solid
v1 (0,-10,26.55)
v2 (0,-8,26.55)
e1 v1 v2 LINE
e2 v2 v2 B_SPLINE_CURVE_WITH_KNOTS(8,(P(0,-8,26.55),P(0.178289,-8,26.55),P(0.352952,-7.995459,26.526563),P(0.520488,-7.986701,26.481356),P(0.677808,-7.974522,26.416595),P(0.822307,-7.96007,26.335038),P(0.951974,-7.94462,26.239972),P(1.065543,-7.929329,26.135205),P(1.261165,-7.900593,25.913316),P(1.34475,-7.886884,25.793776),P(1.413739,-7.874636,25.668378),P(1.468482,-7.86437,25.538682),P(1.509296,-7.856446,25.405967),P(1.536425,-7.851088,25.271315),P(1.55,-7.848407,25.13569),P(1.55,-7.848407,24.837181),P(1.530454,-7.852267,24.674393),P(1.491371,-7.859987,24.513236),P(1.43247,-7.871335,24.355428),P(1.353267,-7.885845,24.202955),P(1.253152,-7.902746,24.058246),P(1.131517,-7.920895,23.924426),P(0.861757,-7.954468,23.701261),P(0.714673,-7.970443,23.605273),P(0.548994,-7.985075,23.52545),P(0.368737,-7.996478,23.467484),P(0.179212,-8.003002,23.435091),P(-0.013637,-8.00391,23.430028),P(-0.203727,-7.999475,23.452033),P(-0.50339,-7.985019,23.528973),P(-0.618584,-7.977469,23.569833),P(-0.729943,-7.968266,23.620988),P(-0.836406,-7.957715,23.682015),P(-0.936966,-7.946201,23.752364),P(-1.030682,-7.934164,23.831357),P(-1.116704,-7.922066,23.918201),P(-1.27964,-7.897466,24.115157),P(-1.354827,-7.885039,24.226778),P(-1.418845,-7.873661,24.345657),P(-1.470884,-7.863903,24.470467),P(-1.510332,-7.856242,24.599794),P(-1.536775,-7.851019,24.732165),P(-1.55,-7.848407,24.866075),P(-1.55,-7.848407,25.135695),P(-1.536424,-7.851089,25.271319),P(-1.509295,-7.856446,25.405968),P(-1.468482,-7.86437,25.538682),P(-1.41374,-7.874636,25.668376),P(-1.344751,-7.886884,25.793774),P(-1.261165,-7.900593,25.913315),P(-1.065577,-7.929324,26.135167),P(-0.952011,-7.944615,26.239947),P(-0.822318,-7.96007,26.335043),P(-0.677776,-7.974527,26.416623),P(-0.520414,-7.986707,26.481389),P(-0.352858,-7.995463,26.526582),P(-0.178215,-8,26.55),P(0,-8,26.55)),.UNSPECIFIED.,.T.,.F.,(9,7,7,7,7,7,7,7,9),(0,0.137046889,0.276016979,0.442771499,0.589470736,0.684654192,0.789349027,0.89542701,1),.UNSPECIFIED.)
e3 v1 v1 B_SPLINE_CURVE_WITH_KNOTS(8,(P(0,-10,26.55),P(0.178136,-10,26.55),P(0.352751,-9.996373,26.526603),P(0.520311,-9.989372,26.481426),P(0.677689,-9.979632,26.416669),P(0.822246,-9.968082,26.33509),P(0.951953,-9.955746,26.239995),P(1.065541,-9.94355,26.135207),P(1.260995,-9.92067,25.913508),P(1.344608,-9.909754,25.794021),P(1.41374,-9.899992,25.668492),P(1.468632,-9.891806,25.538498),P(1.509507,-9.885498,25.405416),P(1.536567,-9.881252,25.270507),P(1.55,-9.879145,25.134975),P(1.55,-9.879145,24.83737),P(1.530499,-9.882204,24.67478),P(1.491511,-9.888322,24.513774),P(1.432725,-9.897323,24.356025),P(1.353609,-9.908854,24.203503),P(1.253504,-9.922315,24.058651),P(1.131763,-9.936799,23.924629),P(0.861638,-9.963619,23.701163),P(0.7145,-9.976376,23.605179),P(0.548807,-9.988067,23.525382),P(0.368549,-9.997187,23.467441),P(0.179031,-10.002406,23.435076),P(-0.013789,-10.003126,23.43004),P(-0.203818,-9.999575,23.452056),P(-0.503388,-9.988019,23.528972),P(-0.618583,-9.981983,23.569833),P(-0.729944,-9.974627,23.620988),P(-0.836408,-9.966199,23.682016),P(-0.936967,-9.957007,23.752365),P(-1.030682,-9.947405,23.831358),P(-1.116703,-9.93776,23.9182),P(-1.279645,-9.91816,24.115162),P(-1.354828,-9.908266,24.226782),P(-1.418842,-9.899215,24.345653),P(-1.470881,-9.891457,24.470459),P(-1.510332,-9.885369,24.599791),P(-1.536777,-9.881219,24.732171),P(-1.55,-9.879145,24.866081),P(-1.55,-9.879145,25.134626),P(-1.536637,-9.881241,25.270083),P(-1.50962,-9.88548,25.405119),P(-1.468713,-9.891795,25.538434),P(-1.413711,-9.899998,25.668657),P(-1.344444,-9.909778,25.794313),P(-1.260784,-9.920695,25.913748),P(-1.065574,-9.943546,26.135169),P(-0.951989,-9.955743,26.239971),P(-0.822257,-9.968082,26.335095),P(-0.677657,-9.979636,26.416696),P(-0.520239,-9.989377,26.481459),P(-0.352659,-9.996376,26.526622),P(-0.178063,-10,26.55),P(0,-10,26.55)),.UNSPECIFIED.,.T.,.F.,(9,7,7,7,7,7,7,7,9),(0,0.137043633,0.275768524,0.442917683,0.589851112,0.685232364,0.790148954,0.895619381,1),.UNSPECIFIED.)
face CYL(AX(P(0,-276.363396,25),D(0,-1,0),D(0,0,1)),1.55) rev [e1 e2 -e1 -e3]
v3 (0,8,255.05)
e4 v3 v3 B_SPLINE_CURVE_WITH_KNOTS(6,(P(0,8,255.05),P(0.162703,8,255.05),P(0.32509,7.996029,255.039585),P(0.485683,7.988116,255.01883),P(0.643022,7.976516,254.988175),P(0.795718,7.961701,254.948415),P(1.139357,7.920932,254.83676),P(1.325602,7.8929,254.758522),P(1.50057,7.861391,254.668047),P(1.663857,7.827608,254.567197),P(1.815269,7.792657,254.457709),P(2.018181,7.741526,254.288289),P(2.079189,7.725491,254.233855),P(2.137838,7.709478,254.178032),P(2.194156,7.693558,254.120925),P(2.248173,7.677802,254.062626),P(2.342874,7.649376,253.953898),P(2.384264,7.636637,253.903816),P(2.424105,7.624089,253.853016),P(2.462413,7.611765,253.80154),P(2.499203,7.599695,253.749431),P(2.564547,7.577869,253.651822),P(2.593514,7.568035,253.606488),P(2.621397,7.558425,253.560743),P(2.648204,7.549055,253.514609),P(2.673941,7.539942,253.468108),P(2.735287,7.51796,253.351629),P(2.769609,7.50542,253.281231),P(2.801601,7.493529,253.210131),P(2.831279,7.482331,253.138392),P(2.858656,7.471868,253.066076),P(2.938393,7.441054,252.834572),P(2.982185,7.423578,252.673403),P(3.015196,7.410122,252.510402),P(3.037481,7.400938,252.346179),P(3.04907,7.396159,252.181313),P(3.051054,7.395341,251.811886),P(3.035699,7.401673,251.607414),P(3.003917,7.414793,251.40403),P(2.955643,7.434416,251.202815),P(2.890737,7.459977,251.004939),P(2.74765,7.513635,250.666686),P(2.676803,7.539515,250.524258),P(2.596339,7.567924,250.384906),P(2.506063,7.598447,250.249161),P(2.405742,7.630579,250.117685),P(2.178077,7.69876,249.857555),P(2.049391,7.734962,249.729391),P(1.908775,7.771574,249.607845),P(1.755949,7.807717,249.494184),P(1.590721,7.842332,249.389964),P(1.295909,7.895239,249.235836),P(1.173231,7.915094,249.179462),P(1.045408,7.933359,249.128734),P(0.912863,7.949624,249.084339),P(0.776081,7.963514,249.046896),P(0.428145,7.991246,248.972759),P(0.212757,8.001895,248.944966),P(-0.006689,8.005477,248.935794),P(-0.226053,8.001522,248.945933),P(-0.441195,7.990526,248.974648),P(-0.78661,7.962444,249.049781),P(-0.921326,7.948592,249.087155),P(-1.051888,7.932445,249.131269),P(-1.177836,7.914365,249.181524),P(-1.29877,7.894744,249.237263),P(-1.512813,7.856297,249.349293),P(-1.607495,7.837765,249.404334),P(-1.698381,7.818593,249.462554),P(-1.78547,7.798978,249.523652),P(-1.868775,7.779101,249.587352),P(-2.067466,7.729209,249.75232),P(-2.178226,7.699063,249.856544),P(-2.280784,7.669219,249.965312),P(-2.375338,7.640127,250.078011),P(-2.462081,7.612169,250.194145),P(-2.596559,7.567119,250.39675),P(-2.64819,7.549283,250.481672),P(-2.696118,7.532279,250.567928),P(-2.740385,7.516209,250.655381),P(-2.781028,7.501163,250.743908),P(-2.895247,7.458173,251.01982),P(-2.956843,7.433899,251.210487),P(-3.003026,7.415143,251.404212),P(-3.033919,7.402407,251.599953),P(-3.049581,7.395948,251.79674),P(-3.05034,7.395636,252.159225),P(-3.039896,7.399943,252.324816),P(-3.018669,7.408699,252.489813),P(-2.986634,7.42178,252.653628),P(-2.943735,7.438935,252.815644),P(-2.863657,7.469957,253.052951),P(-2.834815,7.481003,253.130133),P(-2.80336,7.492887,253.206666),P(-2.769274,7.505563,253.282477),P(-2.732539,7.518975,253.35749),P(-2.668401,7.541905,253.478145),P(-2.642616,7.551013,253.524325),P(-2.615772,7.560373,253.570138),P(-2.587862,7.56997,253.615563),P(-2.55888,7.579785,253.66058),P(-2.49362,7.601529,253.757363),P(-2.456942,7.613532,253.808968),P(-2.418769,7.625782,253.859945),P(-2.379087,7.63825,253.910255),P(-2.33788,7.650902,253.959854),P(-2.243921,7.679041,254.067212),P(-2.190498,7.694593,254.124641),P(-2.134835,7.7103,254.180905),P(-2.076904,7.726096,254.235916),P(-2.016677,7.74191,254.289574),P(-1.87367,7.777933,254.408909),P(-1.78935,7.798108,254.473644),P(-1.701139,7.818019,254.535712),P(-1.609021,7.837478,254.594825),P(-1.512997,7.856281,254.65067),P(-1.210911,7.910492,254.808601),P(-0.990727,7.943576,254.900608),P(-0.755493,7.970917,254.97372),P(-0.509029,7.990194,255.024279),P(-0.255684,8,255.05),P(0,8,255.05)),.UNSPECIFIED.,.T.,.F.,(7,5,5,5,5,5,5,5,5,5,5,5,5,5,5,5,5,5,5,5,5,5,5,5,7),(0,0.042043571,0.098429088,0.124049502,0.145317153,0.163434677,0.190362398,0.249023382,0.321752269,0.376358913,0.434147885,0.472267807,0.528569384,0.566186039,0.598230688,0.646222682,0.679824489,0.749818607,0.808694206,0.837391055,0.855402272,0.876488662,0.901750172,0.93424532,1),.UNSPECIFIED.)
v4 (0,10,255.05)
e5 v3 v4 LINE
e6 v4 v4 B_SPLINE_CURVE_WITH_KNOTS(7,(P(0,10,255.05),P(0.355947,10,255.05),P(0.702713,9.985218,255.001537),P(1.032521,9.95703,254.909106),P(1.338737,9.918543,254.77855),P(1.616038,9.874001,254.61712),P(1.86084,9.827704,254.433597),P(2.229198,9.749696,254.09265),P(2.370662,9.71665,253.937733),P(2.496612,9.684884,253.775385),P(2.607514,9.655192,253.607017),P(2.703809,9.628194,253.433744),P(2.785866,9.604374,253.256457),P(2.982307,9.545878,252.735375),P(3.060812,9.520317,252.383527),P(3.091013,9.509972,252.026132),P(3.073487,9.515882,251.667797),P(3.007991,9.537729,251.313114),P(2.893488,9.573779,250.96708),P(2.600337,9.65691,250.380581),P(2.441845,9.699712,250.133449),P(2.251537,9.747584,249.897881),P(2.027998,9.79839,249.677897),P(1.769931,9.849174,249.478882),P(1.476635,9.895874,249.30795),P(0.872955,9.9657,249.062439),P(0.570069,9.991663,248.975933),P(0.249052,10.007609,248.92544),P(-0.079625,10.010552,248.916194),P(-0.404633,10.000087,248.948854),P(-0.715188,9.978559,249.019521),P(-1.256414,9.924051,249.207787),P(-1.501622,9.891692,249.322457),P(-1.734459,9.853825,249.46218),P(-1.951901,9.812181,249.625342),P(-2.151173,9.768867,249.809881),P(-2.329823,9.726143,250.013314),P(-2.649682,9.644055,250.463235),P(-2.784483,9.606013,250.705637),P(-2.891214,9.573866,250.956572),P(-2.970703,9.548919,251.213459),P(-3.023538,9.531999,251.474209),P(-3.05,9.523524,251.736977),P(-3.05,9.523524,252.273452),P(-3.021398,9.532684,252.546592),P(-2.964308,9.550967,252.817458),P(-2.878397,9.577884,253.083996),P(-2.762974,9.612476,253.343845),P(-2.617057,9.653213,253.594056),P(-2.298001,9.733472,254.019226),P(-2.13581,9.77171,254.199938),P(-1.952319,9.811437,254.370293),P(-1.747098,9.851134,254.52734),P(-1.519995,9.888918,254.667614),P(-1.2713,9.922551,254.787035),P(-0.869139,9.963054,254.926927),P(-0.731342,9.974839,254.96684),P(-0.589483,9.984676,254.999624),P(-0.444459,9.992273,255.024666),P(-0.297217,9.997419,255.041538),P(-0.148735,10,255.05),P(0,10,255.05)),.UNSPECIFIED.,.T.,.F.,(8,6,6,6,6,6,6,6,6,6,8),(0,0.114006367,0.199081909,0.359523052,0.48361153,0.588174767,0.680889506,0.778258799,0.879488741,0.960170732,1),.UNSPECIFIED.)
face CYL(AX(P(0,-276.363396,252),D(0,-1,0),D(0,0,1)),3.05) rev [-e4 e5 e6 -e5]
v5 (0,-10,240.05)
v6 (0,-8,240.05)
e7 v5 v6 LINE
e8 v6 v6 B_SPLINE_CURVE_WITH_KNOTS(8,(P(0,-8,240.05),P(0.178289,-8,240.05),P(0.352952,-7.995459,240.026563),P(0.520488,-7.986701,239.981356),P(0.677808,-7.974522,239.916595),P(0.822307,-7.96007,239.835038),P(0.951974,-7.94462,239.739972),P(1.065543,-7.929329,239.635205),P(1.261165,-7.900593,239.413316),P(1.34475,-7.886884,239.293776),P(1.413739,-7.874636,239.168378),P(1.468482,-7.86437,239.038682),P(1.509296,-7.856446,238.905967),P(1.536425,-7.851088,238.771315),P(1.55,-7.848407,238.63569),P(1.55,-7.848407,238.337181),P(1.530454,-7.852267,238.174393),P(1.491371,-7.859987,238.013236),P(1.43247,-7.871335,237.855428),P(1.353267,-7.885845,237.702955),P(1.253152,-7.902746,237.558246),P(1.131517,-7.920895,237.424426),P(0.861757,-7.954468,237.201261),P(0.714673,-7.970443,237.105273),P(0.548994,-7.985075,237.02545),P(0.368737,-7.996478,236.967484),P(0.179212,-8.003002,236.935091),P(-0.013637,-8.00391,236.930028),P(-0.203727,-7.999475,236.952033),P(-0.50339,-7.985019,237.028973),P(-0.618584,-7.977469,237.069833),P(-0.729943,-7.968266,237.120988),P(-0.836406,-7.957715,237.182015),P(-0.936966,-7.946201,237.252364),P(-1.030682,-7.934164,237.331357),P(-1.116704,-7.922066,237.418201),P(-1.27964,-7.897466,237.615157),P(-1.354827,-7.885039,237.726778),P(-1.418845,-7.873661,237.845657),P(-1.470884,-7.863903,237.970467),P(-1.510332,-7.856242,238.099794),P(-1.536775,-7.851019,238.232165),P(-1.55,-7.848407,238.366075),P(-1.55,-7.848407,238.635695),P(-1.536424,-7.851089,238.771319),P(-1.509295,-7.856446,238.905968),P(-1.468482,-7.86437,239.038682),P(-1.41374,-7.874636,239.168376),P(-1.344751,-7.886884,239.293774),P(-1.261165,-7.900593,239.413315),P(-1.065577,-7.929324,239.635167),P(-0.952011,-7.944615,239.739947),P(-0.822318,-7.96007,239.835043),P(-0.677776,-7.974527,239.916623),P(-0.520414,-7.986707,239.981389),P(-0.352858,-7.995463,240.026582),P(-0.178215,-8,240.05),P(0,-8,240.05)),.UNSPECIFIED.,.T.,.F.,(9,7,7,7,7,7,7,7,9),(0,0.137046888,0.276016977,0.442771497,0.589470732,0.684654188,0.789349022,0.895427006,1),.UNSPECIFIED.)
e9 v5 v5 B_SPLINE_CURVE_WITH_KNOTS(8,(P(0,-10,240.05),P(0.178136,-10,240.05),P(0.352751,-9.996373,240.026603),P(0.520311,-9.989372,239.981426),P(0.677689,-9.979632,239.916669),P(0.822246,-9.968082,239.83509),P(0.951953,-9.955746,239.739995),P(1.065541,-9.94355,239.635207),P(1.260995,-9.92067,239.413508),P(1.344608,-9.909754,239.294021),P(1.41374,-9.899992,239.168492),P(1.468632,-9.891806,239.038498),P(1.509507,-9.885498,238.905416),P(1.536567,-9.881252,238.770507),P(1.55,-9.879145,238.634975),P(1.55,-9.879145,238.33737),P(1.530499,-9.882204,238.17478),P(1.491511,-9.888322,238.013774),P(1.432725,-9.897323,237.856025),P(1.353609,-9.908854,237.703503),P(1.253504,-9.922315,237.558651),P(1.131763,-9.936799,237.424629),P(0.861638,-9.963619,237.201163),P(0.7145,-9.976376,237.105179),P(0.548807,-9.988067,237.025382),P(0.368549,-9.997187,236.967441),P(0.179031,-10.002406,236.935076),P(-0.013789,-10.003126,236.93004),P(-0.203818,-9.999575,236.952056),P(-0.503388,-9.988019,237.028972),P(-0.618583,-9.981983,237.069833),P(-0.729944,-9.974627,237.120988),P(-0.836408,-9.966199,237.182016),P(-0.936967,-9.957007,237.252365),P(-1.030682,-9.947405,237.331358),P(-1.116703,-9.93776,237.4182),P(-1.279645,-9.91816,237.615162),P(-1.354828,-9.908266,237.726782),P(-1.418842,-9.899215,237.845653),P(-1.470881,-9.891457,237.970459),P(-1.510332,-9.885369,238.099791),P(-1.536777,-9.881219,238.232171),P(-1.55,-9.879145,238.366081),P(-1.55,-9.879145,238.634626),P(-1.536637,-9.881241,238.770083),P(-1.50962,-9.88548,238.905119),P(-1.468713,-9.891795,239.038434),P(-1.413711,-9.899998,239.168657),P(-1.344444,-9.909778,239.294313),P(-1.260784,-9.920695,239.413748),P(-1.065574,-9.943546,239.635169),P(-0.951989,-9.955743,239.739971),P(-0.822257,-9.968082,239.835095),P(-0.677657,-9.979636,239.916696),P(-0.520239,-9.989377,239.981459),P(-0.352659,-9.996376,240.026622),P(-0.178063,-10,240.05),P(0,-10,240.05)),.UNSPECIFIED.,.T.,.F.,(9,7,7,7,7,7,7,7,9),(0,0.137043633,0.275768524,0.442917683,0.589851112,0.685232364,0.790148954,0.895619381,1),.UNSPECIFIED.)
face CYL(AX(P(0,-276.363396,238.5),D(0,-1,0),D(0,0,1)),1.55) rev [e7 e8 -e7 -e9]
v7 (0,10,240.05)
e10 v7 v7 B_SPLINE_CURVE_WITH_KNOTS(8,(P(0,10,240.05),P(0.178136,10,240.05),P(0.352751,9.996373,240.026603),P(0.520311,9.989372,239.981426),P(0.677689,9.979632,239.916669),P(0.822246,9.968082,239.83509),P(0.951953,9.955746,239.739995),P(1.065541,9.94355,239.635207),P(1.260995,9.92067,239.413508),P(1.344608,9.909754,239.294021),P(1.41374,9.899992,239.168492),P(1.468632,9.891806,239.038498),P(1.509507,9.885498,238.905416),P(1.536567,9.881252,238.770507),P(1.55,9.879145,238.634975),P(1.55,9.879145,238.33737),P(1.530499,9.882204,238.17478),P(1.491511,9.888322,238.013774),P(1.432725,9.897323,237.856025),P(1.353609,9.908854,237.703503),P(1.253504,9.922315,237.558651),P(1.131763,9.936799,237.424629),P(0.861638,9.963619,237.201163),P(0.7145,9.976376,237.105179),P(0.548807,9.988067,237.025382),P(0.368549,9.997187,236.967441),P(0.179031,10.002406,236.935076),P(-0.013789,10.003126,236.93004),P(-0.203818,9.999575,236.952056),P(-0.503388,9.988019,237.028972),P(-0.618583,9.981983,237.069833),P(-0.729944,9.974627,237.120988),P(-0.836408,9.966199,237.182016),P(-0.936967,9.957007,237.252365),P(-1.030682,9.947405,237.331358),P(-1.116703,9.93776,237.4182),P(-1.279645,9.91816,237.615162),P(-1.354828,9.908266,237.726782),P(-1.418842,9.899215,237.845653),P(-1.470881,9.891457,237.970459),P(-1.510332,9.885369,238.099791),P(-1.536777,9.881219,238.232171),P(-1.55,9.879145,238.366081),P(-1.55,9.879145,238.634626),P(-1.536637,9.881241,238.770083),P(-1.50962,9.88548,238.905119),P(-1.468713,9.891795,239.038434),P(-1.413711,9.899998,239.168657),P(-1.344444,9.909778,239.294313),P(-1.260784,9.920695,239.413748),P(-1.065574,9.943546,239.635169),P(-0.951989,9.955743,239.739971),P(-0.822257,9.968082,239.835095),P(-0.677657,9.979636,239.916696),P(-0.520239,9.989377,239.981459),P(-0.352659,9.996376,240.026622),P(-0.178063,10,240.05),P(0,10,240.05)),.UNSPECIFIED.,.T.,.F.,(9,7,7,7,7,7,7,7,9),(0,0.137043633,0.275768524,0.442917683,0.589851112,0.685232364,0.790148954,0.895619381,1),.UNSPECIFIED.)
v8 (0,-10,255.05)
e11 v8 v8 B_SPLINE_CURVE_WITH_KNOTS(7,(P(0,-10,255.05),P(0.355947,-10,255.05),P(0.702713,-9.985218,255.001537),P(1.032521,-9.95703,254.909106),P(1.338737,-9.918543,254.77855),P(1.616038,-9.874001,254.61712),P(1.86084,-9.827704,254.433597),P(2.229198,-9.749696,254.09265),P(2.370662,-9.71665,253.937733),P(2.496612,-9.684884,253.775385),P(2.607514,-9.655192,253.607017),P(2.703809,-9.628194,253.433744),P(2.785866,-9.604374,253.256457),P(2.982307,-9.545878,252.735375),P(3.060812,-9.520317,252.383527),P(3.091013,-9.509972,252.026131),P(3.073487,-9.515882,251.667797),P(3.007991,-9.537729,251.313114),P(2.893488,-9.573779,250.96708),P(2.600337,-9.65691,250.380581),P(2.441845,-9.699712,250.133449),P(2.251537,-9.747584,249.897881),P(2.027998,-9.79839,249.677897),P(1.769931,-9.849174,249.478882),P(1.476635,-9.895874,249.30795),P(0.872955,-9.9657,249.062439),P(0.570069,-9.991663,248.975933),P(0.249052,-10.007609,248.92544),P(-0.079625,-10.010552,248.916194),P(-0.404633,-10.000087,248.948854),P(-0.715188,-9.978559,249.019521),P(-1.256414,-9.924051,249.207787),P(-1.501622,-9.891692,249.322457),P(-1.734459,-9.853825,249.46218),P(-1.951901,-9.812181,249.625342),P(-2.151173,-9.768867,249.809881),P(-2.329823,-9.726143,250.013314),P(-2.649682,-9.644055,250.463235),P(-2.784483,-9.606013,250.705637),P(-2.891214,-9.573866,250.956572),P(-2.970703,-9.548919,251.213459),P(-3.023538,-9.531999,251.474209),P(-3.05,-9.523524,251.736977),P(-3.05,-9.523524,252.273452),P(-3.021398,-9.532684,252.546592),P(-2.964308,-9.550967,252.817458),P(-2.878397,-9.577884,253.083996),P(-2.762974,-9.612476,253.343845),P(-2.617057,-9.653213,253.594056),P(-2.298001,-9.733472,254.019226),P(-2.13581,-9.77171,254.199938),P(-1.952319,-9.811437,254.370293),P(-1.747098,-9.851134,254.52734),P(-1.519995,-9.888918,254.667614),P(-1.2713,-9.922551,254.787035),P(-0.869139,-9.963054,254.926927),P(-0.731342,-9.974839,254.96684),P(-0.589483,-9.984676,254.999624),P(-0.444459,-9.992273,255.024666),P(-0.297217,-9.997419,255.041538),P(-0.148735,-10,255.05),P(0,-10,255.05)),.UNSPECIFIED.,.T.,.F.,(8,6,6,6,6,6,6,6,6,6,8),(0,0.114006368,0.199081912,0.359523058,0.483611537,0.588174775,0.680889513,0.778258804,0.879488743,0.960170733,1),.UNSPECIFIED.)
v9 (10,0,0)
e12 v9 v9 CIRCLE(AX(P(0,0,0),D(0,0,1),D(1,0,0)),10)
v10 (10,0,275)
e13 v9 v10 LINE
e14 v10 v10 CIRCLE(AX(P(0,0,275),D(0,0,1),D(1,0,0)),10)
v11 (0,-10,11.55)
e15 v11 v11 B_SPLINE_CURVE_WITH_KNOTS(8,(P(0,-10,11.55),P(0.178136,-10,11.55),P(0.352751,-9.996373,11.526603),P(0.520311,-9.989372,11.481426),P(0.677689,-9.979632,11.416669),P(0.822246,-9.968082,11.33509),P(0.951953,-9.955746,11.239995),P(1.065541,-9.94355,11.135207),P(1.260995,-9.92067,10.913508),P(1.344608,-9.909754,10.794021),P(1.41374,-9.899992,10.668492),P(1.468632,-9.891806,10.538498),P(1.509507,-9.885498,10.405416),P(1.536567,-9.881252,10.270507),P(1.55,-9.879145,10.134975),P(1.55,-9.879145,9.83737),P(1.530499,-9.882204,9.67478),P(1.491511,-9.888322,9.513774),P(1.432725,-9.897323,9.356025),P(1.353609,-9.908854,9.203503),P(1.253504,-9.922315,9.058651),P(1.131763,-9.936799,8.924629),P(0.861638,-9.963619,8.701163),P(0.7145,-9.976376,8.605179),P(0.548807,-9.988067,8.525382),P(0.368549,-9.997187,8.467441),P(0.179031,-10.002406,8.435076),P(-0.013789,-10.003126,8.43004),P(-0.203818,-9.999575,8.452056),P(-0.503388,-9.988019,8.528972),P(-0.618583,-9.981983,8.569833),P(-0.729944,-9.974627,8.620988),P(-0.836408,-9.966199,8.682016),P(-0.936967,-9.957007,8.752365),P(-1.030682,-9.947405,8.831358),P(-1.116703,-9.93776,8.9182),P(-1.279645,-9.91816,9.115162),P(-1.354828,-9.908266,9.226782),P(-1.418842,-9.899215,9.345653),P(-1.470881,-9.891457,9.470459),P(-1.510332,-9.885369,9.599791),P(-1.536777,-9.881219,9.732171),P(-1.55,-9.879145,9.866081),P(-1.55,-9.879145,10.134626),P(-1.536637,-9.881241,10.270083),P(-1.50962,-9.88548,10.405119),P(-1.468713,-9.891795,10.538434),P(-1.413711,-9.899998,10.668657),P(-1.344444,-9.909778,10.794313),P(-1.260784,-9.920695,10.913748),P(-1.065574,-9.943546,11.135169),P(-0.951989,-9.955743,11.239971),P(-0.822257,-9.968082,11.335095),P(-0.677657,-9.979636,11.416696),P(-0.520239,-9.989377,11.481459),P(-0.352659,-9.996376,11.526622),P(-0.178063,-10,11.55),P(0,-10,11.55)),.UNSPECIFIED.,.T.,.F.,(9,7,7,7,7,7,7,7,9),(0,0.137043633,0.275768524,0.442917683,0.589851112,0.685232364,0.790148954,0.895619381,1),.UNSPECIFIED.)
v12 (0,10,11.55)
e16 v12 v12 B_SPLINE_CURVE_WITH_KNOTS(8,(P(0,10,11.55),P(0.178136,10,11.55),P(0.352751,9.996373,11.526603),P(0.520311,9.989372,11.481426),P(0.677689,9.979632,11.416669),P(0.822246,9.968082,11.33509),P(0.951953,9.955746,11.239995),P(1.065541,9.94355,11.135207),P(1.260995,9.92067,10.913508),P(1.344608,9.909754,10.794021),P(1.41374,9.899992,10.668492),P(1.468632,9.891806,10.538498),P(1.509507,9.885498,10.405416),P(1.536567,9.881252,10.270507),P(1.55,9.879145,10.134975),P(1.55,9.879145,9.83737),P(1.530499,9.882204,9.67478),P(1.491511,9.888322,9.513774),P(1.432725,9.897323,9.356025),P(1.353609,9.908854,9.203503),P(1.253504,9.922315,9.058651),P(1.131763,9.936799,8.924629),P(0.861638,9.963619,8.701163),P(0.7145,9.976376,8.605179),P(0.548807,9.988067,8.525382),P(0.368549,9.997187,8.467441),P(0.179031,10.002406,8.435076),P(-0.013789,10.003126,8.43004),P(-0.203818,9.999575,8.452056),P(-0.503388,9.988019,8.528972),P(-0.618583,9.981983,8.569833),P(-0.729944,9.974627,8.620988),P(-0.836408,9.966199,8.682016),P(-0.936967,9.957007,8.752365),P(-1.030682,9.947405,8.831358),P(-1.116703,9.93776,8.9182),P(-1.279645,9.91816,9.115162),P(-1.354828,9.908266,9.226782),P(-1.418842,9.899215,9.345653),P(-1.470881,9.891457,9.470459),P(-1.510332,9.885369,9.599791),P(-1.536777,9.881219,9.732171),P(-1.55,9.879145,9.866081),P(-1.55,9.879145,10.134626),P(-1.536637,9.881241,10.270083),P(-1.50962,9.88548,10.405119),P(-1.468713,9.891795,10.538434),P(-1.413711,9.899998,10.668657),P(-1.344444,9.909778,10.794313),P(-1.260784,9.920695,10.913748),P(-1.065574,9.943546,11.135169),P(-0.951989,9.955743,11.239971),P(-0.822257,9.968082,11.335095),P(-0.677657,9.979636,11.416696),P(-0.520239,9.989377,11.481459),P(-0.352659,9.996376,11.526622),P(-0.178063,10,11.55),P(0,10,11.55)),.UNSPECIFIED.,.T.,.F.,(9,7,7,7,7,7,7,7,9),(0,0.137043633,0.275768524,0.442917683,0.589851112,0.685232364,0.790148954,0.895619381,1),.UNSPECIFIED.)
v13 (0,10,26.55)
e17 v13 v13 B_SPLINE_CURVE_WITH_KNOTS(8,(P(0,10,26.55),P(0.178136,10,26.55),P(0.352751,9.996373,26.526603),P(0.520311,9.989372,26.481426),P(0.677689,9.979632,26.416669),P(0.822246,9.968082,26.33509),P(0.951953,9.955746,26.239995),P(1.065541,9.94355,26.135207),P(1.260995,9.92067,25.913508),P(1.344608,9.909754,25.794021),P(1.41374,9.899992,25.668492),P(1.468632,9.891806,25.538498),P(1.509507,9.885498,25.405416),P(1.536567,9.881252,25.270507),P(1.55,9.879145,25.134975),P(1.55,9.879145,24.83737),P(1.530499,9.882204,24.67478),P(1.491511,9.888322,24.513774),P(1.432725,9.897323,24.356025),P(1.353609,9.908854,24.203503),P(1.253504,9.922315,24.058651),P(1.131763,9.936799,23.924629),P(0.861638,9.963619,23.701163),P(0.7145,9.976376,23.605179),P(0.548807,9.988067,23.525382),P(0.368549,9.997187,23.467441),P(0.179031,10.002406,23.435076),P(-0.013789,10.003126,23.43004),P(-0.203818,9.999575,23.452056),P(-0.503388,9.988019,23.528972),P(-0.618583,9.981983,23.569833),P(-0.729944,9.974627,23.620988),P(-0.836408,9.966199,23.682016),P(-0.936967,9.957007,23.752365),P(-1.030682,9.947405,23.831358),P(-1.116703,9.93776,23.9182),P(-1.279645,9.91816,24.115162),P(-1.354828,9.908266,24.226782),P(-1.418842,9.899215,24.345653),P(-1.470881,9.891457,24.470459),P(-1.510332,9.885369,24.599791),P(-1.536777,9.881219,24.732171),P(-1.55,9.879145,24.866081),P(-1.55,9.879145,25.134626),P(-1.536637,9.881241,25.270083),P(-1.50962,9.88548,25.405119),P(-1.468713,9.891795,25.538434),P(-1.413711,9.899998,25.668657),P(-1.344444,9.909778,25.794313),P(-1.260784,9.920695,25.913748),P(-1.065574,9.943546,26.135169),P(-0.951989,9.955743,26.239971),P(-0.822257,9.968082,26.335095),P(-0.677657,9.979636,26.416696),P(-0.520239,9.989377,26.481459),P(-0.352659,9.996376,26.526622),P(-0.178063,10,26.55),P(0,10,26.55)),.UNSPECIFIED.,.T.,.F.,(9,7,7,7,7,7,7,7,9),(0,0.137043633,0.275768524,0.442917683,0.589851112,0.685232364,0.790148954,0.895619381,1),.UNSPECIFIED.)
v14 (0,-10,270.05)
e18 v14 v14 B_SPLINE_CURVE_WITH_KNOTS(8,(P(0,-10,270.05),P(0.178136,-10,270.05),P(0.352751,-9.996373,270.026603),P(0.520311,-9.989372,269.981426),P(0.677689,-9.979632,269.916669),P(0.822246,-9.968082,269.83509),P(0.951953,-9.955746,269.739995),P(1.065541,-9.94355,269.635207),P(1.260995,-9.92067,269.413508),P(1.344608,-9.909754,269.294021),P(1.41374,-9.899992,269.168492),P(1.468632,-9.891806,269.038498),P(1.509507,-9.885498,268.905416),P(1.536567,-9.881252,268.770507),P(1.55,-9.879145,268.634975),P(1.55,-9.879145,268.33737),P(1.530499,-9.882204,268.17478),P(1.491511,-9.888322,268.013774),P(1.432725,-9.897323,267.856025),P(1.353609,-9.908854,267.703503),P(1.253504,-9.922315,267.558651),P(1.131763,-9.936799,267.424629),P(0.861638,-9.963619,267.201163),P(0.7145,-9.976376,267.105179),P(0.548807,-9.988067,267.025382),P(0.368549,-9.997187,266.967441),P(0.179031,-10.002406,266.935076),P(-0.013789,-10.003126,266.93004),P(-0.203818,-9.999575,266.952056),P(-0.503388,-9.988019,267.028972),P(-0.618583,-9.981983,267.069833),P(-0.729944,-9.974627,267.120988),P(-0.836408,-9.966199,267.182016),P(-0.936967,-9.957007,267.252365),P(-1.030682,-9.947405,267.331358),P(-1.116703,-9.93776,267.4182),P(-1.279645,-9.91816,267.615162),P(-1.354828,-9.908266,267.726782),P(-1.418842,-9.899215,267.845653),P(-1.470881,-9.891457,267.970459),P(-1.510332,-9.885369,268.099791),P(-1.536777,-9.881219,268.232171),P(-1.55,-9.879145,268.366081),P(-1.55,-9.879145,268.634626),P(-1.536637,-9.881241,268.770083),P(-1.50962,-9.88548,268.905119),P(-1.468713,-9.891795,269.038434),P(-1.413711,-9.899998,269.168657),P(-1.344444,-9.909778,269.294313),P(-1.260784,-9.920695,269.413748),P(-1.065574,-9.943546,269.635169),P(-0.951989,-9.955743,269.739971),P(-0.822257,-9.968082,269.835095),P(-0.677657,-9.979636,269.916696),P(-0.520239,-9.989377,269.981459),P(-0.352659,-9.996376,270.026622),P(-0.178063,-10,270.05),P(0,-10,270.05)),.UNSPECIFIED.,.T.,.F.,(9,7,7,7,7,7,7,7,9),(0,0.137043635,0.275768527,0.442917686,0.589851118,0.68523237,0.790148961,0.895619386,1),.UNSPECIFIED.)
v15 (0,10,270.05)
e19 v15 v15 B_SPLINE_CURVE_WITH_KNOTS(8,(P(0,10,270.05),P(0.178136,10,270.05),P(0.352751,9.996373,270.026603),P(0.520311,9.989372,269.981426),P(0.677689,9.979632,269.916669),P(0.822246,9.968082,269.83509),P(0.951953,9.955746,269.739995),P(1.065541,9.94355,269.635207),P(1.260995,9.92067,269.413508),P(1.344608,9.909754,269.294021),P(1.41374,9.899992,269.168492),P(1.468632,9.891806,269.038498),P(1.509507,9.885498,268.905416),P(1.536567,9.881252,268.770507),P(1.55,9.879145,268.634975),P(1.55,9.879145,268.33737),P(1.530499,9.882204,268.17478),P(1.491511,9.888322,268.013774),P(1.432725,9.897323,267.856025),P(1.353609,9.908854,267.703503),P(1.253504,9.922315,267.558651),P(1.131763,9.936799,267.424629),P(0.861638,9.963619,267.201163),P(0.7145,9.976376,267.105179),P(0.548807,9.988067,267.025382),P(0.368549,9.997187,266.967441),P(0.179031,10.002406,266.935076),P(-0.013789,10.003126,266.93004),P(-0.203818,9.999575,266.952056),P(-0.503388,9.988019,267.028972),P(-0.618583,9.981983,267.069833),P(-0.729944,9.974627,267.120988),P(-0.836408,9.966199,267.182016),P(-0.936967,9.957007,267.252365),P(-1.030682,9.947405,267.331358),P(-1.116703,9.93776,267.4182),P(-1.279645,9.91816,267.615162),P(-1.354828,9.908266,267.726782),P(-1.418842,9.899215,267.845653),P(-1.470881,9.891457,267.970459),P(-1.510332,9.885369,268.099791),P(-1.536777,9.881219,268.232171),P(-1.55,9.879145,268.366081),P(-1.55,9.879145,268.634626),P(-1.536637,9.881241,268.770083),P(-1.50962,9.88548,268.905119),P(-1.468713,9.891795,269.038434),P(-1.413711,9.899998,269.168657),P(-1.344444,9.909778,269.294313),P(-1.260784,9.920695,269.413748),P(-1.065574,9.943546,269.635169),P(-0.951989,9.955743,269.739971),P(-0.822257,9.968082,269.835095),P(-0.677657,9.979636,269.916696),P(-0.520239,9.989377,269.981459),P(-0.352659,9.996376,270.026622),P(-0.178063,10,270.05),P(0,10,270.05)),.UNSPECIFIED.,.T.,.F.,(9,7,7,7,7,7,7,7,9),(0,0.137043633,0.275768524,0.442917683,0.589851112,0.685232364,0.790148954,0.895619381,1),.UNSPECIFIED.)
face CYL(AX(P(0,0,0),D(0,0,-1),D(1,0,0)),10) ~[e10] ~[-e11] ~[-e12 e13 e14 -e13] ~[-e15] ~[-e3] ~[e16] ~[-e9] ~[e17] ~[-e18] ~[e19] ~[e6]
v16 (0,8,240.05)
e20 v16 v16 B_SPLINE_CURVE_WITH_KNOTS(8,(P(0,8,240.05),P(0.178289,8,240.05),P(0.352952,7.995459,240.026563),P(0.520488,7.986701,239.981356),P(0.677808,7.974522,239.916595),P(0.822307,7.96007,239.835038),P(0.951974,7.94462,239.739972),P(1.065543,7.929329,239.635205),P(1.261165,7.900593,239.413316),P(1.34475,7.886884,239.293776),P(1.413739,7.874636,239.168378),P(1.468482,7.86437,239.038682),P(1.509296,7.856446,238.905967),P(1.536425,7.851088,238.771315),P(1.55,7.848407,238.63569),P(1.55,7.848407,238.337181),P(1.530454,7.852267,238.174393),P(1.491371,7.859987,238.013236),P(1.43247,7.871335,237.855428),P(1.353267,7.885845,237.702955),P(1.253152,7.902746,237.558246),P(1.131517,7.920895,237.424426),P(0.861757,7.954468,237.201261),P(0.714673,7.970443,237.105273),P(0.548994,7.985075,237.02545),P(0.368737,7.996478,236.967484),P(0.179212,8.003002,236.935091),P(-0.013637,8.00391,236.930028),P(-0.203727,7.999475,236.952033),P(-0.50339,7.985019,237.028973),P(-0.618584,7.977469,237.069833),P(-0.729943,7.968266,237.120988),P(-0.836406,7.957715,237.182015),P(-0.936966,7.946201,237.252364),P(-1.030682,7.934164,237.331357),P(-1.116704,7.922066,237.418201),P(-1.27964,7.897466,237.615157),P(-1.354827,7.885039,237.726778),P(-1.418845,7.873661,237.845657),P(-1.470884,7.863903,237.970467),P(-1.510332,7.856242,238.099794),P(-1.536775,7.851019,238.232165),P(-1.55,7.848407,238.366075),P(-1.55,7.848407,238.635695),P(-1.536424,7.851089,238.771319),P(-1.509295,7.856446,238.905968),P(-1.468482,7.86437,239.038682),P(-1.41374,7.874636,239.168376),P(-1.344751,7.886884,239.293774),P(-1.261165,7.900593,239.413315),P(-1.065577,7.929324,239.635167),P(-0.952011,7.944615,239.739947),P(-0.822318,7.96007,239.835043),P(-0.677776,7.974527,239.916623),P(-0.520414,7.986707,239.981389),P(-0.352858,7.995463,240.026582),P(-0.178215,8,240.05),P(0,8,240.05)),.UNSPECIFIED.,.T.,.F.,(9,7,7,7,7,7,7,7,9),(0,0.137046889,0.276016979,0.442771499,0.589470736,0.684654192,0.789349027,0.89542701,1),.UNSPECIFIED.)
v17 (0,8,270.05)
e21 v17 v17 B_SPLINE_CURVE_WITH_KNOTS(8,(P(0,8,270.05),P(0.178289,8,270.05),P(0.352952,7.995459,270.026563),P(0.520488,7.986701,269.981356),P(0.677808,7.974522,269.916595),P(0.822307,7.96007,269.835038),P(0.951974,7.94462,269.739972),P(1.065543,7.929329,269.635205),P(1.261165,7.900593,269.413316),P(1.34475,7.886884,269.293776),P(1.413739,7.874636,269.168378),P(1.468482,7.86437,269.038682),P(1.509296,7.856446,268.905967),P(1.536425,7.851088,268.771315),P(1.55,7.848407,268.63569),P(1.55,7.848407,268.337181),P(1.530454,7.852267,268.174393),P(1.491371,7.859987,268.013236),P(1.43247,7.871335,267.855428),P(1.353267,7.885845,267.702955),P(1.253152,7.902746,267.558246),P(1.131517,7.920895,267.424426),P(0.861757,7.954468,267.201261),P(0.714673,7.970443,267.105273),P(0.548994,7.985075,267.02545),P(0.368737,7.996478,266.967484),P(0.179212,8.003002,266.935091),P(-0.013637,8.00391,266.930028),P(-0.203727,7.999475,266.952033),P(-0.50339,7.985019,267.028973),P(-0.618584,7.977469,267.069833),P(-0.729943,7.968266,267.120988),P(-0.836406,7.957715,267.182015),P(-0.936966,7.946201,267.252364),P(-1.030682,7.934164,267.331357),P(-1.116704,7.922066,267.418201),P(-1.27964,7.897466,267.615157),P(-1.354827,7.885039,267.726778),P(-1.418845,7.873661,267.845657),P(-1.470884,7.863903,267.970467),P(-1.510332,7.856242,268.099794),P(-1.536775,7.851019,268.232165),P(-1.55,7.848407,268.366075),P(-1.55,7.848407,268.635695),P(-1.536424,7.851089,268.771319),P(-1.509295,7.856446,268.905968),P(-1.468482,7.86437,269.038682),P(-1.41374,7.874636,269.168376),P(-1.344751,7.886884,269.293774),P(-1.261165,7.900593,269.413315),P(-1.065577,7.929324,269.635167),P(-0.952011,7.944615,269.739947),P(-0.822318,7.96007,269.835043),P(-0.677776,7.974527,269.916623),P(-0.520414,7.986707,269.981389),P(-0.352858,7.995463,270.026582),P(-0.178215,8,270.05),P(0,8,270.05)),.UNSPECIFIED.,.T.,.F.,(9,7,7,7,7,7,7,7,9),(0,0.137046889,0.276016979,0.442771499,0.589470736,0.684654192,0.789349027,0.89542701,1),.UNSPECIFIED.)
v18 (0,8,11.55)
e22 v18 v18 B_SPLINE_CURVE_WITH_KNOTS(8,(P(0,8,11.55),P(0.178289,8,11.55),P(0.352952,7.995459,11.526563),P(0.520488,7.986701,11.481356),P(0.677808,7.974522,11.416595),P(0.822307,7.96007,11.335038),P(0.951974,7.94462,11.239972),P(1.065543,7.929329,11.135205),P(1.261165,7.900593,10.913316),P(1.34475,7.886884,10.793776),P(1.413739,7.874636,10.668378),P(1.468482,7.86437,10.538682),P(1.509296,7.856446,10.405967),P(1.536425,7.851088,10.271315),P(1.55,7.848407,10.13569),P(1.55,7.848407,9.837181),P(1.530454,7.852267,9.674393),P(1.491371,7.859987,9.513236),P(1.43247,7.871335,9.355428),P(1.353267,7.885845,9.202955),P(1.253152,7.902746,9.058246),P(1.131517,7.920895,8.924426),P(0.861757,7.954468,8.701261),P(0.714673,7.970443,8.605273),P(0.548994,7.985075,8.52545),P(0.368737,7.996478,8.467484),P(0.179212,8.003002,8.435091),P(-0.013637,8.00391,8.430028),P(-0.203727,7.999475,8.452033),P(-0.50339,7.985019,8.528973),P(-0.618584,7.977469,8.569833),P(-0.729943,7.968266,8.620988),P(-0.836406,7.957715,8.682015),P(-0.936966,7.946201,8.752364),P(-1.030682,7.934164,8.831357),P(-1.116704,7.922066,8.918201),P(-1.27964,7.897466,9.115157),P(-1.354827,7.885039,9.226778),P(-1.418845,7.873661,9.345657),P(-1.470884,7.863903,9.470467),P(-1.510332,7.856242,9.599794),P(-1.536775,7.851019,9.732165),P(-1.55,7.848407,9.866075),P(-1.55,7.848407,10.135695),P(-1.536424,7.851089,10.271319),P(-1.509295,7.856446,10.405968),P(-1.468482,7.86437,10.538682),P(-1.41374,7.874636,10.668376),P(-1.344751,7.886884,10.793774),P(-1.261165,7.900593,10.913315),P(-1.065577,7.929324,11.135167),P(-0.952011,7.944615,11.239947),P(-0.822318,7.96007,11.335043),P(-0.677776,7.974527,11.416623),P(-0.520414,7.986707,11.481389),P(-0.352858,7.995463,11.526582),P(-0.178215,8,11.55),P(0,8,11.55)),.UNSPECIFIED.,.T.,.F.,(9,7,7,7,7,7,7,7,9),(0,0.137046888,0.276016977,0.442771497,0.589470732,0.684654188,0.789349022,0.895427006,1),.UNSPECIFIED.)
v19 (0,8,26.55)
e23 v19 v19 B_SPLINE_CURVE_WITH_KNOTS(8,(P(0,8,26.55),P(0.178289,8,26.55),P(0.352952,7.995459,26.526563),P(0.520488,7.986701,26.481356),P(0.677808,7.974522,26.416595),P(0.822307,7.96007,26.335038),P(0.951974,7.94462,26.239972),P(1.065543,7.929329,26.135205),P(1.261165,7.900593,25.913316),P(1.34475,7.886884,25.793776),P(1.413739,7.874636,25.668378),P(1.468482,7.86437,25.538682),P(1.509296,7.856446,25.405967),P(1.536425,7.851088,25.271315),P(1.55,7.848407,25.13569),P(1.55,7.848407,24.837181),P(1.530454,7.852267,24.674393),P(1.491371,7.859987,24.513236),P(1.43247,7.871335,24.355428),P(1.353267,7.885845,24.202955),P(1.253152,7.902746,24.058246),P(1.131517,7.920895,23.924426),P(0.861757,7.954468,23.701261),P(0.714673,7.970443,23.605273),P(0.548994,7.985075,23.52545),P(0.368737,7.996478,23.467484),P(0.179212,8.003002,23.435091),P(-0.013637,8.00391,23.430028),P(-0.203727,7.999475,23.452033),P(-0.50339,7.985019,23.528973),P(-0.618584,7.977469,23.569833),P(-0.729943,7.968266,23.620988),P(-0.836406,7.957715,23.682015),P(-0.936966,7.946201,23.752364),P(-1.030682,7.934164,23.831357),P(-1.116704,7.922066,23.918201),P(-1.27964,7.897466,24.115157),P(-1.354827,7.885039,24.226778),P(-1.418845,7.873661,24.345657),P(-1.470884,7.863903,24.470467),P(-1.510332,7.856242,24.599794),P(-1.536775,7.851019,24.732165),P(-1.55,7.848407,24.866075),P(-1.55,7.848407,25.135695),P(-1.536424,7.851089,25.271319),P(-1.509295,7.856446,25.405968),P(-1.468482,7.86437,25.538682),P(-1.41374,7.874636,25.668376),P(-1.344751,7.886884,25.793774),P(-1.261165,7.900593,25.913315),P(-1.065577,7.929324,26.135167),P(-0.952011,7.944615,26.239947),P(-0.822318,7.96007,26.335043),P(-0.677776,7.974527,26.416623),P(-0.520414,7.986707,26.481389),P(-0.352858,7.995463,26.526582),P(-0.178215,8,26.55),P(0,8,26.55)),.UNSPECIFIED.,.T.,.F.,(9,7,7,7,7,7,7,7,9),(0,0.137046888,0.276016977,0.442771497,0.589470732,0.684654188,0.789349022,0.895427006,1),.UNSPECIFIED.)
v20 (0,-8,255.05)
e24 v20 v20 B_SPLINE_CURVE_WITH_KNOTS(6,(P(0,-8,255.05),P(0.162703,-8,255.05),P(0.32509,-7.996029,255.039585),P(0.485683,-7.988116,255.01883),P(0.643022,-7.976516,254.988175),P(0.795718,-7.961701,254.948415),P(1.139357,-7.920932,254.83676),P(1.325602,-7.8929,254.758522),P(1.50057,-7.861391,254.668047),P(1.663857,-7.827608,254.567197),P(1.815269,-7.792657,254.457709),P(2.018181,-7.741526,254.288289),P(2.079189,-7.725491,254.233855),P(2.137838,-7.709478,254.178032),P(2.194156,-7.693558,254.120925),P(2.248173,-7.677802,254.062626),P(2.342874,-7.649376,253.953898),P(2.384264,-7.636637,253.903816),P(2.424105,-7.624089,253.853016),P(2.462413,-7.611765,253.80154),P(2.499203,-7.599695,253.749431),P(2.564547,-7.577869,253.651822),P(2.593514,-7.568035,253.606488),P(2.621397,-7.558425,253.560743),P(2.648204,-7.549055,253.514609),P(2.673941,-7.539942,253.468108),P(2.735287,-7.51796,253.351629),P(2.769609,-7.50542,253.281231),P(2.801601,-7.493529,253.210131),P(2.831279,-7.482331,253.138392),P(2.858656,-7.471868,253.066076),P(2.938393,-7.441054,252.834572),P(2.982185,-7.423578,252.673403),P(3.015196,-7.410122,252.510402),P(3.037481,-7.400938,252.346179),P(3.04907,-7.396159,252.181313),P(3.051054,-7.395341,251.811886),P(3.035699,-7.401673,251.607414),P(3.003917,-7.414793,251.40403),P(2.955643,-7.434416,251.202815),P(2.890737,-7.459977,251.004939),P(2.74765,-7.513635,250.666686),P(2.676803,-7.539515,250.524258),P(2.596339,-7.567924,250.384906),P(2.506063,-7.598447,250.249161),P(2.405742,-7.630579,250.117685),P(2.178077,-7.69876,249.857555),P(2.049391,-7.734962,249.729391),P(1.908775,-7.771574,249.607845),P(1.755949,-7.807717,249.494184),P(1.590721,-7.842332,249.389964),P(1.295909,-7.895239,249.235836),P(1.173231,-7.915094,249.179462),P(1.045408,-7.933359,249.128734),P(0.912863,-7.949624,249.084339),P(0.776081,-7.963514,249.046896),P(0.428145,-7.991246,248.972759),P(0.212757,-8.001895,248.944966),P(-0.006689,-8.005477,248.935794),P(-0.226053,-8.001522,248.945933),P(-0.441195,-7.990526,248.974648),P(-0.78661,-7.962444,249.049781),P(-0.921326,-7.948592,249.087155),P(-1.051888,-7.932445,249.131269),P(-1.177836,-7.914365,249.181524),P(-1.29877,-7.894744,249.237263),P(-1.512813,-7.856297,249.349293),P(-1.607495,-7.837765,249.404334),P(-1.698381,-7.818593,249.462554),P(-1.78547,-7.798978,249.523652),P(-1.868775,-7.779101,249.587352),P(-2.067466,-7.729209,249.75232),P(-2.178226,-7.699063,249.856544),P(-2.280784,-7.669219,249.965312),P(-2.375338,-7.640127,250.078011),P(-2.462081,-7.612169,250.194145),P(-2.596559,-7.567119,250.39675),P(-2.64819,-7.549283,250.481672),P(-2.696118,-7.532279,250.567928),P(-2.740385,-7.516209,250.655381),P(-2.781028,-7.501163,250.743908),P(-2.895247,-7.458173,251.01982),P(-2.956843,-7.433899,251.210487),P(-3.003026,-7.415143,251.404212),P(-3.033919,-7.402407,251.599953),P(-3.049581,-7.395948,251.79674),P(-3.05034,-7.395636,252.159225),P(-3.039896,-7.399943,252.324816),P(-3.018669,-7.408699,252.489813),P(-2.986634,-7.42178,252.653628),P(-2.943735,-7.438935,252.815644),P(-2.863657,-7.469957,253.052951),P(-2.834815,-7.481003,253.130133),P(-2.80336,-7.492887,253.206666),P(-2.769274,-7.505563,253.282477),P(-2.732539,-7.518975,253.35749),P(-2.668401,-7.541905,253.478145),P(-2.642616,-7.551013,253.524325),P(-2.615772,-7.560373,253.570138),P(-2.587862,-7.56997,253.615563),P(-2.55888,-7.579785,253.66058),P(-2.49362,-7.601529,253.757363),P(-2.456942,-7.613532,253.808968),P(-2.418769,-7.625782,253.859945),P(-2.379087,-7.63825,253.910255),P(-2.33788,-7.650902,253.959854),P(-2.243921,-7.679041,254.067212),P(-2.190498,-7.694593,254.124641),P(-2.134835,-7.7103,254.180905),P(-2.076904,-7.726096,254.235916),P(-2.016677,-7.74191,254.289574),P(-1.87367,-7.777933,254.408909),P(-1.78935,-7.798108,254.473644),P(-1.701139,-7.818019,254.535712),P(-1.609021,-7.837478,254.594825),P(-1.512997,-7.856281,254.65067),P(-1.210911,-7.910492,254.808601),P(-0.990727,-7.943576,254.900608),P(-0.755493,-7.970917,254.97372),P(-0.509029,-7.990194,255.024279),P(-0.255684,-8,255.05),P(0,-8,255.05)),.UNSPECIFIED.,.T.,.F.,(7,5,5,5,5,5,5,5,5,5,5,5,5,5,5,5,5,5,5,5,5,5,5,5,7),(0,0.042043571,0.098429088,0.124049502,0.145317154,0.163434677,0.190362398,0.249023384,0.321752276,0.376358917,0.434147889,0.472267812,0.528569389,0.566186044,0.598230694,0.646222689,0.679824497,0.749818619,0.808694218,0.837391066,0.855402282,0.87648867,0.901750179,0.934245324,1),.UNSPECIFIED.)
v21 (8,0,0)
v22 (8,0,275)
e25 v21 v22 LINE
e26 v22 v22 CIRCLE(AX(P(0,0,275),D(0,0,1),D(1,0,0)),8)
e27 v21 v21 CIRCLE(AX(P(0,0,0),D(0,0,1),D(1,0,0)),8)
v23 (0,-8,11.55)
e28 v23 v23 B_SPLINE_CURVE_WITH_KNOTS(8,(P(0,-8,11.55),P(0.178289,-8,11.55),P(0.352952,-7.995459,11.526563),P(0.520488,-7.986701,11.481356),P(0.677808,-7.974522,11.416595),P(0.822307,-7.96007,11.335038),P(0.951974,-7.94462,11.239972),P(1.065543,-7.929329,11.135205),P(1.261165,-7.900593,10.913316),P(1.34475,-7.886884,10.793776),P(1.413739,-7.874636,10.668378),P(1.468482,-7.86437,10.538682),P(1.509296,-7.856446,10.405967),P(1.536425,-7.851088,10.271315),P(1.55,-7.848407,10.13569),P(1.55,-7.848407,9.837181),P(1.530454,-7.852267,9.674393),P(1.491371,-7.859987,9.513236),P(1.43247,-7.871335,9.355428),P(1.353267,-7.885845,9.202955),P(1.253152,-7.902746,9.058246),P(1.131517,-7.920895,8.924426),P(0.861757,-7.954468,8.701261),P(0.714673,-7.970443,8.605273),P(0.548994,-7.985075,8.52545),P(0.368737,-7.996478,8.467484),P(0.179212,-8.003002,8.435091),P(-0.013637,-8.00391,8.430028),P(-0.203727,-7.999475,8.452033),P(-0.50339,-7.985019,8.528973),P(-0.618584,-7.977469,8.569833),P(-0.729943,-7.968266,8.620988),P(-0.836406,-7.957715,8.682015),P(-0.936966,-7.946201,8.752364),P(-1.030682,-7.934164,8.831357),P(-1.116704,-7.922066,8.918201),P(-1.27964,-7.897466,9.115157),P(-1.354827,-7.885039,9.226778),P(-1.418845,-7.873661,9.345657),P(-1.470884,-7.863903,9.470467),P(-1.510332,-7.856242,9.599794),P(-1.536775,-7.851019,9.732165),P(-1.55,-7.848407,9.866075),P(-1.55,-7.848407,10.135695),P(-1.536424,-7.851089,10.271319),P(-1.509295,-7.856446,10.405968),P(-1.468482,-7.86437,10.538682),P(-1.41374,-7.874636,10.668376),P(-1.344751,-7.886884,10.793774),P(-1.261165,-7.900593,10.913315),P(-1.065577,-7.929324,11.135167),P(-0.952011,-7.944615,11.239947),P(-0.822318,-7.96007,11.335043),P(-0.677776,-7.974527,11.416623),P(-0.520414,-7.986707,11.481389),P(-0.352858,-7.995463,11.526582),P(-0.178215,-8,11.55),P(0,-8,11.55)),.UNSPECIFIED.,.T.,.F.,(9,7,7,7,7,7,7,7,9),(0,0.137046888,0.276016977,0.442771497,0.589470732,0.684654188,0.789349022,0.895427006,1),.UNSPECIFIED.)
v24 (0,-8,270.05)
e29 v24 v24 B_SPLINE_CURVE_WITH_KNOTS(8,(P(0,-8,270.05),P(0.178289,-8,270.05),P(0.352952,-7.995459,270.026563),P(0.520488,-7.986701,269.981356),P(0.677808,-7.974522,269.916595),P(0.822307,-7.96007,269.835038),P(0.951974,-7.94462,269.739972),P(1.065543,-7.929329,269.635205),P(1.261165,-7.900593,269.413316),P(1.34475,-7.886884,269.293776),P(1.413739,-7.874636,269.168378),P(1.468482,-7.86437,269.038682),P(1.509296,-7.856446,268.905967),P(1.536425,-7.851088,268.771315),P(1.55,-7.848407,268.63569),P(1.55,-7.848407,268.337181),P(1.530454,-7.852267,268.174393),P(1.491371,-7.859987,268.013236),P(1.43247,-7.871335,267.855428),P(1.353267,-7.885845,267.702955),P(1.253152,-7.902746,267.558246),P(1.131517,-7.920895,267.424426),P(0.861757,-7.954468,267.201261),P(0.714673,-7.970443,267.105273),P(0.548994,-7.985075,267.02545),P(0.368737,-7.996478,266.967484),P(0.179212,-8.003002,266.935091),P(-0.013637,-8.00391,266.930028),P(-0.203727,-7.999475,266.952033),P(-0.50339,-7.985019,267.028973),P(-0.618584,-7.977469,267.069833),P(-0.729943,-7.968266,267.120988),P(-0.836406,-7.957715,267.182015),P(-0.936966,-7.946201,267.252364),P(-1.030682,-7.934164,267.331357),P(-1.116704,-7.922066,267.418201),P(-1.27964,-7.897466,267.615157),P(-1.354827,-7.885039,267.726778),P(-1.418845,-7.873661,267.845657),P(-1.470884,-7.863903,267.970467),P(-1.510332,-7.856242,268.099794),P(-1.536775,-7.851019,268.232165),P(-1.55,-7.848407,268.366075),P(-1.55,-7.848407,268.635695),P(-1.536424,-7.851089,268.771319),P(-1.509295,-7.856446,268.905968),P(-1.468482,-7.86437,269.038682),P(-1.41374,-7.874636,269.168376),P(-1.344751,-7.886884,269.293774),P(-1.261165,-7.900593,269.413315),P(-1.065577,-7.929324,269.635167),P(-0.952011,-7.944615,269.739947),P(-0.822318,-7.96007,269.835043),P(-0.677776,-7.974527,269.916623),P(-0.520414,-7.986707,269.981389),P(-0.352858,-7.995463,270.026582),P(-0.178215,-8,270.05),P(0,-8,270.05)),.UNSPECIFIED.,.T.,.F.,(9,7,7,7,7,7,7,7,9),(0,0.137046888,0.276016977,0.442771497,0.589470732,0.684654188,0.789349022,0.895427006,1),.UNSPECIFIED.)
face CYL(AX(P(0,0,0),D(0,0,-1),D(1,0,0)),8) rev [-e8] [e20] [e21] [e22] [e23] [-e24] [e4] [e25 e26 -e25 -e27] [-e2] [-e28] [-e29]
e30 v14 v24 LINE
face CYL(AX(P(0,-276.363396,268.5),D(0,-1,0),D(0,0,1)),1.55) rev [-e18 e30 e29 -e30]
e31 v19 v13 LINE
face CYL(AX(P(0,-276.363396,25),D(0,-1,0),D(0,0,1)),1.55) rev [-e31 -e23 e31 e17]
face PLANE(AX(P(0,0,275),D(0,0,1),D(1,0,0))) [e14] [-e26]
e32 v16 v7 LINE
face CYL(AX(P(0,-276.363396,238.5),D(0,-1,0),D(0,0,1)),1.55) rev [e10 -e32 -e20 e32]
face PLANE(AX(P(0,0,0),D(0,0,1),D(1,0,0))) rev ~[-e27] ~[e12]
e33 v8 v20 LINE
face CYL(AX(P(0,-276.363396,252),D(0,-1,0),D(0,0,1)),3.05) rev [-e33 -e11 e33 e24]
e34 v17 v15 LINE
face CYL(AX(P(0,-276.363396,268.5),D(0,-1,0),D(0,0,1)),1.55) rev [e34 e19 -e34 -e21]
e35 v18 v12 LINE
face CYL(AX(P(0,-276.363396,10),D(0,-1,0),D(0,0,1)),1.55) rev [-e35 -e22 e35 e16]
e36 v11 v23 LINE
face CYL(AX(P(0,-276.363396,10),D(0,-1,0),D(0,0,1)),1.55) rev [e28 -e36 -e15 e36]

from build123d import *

# Parameters (mm, degrees)
SKETCH_1_R               = 10
SKETCH_1_R_2             = 8
EXTRUDE_1_DEPTH          = 275
CUT_EXTRUDE_1_DEPTH      = 276.36339626
CUT_EXTRUDE_1_DEPTH_BACK = 276.36339626
SKETCH_4_R               = 1.55
SKETCH_4_R_2             = 3.05


with BuildPart() as part:
    # 草图1 → 凸台-拉伸1 (new body)
    with BuildSketch(Plane.XY):
        Circle(SKETCH_1_R)
        Circle(SKETCH_1_R_2, mode=Mode.SUBTRACT)
    extrude(amount=EXTRUDE_1_DEPTH)

    # 草图4 → 切除-拉伸1 (cut, two sides: drawn at the far end of the back side and taken through both)
    with BuildSketch(Plane(origin=(0, 0, 0), x_dir=(1, 0, 0), z_dir=(0, 1, 0)).offset(-CUT_EXTRUDE_1_DEPTH_BACK)):
        with Locations(Location((0, -268.5, 0), (0, 0, 270))):
            Circle(SKETCH_4_R)
        with Locations(Location((0, -252, 0), (0, 0, 270))):
            Circle(SKETCH_4_R_2)
        with Locations(Location((0, -238.5, 0), (0, 0, 270))):
            Circle(SKETCH_4_R)
        with Locations(Location((0, -25, 0), (0, 0, 270))):
            Circle(SKETCH_4_R)
        with Locations(Location((0, -10, 0), (0, 0, 270))):
            Circle(SKETCH_4_R)
    extrude(amount=CUT_EXTRUDE_1_DEPTH + CUT_EXTRUDE_1_DEPTH_BACK, mode=Mode.SUBTRACT)


solid = part.part
